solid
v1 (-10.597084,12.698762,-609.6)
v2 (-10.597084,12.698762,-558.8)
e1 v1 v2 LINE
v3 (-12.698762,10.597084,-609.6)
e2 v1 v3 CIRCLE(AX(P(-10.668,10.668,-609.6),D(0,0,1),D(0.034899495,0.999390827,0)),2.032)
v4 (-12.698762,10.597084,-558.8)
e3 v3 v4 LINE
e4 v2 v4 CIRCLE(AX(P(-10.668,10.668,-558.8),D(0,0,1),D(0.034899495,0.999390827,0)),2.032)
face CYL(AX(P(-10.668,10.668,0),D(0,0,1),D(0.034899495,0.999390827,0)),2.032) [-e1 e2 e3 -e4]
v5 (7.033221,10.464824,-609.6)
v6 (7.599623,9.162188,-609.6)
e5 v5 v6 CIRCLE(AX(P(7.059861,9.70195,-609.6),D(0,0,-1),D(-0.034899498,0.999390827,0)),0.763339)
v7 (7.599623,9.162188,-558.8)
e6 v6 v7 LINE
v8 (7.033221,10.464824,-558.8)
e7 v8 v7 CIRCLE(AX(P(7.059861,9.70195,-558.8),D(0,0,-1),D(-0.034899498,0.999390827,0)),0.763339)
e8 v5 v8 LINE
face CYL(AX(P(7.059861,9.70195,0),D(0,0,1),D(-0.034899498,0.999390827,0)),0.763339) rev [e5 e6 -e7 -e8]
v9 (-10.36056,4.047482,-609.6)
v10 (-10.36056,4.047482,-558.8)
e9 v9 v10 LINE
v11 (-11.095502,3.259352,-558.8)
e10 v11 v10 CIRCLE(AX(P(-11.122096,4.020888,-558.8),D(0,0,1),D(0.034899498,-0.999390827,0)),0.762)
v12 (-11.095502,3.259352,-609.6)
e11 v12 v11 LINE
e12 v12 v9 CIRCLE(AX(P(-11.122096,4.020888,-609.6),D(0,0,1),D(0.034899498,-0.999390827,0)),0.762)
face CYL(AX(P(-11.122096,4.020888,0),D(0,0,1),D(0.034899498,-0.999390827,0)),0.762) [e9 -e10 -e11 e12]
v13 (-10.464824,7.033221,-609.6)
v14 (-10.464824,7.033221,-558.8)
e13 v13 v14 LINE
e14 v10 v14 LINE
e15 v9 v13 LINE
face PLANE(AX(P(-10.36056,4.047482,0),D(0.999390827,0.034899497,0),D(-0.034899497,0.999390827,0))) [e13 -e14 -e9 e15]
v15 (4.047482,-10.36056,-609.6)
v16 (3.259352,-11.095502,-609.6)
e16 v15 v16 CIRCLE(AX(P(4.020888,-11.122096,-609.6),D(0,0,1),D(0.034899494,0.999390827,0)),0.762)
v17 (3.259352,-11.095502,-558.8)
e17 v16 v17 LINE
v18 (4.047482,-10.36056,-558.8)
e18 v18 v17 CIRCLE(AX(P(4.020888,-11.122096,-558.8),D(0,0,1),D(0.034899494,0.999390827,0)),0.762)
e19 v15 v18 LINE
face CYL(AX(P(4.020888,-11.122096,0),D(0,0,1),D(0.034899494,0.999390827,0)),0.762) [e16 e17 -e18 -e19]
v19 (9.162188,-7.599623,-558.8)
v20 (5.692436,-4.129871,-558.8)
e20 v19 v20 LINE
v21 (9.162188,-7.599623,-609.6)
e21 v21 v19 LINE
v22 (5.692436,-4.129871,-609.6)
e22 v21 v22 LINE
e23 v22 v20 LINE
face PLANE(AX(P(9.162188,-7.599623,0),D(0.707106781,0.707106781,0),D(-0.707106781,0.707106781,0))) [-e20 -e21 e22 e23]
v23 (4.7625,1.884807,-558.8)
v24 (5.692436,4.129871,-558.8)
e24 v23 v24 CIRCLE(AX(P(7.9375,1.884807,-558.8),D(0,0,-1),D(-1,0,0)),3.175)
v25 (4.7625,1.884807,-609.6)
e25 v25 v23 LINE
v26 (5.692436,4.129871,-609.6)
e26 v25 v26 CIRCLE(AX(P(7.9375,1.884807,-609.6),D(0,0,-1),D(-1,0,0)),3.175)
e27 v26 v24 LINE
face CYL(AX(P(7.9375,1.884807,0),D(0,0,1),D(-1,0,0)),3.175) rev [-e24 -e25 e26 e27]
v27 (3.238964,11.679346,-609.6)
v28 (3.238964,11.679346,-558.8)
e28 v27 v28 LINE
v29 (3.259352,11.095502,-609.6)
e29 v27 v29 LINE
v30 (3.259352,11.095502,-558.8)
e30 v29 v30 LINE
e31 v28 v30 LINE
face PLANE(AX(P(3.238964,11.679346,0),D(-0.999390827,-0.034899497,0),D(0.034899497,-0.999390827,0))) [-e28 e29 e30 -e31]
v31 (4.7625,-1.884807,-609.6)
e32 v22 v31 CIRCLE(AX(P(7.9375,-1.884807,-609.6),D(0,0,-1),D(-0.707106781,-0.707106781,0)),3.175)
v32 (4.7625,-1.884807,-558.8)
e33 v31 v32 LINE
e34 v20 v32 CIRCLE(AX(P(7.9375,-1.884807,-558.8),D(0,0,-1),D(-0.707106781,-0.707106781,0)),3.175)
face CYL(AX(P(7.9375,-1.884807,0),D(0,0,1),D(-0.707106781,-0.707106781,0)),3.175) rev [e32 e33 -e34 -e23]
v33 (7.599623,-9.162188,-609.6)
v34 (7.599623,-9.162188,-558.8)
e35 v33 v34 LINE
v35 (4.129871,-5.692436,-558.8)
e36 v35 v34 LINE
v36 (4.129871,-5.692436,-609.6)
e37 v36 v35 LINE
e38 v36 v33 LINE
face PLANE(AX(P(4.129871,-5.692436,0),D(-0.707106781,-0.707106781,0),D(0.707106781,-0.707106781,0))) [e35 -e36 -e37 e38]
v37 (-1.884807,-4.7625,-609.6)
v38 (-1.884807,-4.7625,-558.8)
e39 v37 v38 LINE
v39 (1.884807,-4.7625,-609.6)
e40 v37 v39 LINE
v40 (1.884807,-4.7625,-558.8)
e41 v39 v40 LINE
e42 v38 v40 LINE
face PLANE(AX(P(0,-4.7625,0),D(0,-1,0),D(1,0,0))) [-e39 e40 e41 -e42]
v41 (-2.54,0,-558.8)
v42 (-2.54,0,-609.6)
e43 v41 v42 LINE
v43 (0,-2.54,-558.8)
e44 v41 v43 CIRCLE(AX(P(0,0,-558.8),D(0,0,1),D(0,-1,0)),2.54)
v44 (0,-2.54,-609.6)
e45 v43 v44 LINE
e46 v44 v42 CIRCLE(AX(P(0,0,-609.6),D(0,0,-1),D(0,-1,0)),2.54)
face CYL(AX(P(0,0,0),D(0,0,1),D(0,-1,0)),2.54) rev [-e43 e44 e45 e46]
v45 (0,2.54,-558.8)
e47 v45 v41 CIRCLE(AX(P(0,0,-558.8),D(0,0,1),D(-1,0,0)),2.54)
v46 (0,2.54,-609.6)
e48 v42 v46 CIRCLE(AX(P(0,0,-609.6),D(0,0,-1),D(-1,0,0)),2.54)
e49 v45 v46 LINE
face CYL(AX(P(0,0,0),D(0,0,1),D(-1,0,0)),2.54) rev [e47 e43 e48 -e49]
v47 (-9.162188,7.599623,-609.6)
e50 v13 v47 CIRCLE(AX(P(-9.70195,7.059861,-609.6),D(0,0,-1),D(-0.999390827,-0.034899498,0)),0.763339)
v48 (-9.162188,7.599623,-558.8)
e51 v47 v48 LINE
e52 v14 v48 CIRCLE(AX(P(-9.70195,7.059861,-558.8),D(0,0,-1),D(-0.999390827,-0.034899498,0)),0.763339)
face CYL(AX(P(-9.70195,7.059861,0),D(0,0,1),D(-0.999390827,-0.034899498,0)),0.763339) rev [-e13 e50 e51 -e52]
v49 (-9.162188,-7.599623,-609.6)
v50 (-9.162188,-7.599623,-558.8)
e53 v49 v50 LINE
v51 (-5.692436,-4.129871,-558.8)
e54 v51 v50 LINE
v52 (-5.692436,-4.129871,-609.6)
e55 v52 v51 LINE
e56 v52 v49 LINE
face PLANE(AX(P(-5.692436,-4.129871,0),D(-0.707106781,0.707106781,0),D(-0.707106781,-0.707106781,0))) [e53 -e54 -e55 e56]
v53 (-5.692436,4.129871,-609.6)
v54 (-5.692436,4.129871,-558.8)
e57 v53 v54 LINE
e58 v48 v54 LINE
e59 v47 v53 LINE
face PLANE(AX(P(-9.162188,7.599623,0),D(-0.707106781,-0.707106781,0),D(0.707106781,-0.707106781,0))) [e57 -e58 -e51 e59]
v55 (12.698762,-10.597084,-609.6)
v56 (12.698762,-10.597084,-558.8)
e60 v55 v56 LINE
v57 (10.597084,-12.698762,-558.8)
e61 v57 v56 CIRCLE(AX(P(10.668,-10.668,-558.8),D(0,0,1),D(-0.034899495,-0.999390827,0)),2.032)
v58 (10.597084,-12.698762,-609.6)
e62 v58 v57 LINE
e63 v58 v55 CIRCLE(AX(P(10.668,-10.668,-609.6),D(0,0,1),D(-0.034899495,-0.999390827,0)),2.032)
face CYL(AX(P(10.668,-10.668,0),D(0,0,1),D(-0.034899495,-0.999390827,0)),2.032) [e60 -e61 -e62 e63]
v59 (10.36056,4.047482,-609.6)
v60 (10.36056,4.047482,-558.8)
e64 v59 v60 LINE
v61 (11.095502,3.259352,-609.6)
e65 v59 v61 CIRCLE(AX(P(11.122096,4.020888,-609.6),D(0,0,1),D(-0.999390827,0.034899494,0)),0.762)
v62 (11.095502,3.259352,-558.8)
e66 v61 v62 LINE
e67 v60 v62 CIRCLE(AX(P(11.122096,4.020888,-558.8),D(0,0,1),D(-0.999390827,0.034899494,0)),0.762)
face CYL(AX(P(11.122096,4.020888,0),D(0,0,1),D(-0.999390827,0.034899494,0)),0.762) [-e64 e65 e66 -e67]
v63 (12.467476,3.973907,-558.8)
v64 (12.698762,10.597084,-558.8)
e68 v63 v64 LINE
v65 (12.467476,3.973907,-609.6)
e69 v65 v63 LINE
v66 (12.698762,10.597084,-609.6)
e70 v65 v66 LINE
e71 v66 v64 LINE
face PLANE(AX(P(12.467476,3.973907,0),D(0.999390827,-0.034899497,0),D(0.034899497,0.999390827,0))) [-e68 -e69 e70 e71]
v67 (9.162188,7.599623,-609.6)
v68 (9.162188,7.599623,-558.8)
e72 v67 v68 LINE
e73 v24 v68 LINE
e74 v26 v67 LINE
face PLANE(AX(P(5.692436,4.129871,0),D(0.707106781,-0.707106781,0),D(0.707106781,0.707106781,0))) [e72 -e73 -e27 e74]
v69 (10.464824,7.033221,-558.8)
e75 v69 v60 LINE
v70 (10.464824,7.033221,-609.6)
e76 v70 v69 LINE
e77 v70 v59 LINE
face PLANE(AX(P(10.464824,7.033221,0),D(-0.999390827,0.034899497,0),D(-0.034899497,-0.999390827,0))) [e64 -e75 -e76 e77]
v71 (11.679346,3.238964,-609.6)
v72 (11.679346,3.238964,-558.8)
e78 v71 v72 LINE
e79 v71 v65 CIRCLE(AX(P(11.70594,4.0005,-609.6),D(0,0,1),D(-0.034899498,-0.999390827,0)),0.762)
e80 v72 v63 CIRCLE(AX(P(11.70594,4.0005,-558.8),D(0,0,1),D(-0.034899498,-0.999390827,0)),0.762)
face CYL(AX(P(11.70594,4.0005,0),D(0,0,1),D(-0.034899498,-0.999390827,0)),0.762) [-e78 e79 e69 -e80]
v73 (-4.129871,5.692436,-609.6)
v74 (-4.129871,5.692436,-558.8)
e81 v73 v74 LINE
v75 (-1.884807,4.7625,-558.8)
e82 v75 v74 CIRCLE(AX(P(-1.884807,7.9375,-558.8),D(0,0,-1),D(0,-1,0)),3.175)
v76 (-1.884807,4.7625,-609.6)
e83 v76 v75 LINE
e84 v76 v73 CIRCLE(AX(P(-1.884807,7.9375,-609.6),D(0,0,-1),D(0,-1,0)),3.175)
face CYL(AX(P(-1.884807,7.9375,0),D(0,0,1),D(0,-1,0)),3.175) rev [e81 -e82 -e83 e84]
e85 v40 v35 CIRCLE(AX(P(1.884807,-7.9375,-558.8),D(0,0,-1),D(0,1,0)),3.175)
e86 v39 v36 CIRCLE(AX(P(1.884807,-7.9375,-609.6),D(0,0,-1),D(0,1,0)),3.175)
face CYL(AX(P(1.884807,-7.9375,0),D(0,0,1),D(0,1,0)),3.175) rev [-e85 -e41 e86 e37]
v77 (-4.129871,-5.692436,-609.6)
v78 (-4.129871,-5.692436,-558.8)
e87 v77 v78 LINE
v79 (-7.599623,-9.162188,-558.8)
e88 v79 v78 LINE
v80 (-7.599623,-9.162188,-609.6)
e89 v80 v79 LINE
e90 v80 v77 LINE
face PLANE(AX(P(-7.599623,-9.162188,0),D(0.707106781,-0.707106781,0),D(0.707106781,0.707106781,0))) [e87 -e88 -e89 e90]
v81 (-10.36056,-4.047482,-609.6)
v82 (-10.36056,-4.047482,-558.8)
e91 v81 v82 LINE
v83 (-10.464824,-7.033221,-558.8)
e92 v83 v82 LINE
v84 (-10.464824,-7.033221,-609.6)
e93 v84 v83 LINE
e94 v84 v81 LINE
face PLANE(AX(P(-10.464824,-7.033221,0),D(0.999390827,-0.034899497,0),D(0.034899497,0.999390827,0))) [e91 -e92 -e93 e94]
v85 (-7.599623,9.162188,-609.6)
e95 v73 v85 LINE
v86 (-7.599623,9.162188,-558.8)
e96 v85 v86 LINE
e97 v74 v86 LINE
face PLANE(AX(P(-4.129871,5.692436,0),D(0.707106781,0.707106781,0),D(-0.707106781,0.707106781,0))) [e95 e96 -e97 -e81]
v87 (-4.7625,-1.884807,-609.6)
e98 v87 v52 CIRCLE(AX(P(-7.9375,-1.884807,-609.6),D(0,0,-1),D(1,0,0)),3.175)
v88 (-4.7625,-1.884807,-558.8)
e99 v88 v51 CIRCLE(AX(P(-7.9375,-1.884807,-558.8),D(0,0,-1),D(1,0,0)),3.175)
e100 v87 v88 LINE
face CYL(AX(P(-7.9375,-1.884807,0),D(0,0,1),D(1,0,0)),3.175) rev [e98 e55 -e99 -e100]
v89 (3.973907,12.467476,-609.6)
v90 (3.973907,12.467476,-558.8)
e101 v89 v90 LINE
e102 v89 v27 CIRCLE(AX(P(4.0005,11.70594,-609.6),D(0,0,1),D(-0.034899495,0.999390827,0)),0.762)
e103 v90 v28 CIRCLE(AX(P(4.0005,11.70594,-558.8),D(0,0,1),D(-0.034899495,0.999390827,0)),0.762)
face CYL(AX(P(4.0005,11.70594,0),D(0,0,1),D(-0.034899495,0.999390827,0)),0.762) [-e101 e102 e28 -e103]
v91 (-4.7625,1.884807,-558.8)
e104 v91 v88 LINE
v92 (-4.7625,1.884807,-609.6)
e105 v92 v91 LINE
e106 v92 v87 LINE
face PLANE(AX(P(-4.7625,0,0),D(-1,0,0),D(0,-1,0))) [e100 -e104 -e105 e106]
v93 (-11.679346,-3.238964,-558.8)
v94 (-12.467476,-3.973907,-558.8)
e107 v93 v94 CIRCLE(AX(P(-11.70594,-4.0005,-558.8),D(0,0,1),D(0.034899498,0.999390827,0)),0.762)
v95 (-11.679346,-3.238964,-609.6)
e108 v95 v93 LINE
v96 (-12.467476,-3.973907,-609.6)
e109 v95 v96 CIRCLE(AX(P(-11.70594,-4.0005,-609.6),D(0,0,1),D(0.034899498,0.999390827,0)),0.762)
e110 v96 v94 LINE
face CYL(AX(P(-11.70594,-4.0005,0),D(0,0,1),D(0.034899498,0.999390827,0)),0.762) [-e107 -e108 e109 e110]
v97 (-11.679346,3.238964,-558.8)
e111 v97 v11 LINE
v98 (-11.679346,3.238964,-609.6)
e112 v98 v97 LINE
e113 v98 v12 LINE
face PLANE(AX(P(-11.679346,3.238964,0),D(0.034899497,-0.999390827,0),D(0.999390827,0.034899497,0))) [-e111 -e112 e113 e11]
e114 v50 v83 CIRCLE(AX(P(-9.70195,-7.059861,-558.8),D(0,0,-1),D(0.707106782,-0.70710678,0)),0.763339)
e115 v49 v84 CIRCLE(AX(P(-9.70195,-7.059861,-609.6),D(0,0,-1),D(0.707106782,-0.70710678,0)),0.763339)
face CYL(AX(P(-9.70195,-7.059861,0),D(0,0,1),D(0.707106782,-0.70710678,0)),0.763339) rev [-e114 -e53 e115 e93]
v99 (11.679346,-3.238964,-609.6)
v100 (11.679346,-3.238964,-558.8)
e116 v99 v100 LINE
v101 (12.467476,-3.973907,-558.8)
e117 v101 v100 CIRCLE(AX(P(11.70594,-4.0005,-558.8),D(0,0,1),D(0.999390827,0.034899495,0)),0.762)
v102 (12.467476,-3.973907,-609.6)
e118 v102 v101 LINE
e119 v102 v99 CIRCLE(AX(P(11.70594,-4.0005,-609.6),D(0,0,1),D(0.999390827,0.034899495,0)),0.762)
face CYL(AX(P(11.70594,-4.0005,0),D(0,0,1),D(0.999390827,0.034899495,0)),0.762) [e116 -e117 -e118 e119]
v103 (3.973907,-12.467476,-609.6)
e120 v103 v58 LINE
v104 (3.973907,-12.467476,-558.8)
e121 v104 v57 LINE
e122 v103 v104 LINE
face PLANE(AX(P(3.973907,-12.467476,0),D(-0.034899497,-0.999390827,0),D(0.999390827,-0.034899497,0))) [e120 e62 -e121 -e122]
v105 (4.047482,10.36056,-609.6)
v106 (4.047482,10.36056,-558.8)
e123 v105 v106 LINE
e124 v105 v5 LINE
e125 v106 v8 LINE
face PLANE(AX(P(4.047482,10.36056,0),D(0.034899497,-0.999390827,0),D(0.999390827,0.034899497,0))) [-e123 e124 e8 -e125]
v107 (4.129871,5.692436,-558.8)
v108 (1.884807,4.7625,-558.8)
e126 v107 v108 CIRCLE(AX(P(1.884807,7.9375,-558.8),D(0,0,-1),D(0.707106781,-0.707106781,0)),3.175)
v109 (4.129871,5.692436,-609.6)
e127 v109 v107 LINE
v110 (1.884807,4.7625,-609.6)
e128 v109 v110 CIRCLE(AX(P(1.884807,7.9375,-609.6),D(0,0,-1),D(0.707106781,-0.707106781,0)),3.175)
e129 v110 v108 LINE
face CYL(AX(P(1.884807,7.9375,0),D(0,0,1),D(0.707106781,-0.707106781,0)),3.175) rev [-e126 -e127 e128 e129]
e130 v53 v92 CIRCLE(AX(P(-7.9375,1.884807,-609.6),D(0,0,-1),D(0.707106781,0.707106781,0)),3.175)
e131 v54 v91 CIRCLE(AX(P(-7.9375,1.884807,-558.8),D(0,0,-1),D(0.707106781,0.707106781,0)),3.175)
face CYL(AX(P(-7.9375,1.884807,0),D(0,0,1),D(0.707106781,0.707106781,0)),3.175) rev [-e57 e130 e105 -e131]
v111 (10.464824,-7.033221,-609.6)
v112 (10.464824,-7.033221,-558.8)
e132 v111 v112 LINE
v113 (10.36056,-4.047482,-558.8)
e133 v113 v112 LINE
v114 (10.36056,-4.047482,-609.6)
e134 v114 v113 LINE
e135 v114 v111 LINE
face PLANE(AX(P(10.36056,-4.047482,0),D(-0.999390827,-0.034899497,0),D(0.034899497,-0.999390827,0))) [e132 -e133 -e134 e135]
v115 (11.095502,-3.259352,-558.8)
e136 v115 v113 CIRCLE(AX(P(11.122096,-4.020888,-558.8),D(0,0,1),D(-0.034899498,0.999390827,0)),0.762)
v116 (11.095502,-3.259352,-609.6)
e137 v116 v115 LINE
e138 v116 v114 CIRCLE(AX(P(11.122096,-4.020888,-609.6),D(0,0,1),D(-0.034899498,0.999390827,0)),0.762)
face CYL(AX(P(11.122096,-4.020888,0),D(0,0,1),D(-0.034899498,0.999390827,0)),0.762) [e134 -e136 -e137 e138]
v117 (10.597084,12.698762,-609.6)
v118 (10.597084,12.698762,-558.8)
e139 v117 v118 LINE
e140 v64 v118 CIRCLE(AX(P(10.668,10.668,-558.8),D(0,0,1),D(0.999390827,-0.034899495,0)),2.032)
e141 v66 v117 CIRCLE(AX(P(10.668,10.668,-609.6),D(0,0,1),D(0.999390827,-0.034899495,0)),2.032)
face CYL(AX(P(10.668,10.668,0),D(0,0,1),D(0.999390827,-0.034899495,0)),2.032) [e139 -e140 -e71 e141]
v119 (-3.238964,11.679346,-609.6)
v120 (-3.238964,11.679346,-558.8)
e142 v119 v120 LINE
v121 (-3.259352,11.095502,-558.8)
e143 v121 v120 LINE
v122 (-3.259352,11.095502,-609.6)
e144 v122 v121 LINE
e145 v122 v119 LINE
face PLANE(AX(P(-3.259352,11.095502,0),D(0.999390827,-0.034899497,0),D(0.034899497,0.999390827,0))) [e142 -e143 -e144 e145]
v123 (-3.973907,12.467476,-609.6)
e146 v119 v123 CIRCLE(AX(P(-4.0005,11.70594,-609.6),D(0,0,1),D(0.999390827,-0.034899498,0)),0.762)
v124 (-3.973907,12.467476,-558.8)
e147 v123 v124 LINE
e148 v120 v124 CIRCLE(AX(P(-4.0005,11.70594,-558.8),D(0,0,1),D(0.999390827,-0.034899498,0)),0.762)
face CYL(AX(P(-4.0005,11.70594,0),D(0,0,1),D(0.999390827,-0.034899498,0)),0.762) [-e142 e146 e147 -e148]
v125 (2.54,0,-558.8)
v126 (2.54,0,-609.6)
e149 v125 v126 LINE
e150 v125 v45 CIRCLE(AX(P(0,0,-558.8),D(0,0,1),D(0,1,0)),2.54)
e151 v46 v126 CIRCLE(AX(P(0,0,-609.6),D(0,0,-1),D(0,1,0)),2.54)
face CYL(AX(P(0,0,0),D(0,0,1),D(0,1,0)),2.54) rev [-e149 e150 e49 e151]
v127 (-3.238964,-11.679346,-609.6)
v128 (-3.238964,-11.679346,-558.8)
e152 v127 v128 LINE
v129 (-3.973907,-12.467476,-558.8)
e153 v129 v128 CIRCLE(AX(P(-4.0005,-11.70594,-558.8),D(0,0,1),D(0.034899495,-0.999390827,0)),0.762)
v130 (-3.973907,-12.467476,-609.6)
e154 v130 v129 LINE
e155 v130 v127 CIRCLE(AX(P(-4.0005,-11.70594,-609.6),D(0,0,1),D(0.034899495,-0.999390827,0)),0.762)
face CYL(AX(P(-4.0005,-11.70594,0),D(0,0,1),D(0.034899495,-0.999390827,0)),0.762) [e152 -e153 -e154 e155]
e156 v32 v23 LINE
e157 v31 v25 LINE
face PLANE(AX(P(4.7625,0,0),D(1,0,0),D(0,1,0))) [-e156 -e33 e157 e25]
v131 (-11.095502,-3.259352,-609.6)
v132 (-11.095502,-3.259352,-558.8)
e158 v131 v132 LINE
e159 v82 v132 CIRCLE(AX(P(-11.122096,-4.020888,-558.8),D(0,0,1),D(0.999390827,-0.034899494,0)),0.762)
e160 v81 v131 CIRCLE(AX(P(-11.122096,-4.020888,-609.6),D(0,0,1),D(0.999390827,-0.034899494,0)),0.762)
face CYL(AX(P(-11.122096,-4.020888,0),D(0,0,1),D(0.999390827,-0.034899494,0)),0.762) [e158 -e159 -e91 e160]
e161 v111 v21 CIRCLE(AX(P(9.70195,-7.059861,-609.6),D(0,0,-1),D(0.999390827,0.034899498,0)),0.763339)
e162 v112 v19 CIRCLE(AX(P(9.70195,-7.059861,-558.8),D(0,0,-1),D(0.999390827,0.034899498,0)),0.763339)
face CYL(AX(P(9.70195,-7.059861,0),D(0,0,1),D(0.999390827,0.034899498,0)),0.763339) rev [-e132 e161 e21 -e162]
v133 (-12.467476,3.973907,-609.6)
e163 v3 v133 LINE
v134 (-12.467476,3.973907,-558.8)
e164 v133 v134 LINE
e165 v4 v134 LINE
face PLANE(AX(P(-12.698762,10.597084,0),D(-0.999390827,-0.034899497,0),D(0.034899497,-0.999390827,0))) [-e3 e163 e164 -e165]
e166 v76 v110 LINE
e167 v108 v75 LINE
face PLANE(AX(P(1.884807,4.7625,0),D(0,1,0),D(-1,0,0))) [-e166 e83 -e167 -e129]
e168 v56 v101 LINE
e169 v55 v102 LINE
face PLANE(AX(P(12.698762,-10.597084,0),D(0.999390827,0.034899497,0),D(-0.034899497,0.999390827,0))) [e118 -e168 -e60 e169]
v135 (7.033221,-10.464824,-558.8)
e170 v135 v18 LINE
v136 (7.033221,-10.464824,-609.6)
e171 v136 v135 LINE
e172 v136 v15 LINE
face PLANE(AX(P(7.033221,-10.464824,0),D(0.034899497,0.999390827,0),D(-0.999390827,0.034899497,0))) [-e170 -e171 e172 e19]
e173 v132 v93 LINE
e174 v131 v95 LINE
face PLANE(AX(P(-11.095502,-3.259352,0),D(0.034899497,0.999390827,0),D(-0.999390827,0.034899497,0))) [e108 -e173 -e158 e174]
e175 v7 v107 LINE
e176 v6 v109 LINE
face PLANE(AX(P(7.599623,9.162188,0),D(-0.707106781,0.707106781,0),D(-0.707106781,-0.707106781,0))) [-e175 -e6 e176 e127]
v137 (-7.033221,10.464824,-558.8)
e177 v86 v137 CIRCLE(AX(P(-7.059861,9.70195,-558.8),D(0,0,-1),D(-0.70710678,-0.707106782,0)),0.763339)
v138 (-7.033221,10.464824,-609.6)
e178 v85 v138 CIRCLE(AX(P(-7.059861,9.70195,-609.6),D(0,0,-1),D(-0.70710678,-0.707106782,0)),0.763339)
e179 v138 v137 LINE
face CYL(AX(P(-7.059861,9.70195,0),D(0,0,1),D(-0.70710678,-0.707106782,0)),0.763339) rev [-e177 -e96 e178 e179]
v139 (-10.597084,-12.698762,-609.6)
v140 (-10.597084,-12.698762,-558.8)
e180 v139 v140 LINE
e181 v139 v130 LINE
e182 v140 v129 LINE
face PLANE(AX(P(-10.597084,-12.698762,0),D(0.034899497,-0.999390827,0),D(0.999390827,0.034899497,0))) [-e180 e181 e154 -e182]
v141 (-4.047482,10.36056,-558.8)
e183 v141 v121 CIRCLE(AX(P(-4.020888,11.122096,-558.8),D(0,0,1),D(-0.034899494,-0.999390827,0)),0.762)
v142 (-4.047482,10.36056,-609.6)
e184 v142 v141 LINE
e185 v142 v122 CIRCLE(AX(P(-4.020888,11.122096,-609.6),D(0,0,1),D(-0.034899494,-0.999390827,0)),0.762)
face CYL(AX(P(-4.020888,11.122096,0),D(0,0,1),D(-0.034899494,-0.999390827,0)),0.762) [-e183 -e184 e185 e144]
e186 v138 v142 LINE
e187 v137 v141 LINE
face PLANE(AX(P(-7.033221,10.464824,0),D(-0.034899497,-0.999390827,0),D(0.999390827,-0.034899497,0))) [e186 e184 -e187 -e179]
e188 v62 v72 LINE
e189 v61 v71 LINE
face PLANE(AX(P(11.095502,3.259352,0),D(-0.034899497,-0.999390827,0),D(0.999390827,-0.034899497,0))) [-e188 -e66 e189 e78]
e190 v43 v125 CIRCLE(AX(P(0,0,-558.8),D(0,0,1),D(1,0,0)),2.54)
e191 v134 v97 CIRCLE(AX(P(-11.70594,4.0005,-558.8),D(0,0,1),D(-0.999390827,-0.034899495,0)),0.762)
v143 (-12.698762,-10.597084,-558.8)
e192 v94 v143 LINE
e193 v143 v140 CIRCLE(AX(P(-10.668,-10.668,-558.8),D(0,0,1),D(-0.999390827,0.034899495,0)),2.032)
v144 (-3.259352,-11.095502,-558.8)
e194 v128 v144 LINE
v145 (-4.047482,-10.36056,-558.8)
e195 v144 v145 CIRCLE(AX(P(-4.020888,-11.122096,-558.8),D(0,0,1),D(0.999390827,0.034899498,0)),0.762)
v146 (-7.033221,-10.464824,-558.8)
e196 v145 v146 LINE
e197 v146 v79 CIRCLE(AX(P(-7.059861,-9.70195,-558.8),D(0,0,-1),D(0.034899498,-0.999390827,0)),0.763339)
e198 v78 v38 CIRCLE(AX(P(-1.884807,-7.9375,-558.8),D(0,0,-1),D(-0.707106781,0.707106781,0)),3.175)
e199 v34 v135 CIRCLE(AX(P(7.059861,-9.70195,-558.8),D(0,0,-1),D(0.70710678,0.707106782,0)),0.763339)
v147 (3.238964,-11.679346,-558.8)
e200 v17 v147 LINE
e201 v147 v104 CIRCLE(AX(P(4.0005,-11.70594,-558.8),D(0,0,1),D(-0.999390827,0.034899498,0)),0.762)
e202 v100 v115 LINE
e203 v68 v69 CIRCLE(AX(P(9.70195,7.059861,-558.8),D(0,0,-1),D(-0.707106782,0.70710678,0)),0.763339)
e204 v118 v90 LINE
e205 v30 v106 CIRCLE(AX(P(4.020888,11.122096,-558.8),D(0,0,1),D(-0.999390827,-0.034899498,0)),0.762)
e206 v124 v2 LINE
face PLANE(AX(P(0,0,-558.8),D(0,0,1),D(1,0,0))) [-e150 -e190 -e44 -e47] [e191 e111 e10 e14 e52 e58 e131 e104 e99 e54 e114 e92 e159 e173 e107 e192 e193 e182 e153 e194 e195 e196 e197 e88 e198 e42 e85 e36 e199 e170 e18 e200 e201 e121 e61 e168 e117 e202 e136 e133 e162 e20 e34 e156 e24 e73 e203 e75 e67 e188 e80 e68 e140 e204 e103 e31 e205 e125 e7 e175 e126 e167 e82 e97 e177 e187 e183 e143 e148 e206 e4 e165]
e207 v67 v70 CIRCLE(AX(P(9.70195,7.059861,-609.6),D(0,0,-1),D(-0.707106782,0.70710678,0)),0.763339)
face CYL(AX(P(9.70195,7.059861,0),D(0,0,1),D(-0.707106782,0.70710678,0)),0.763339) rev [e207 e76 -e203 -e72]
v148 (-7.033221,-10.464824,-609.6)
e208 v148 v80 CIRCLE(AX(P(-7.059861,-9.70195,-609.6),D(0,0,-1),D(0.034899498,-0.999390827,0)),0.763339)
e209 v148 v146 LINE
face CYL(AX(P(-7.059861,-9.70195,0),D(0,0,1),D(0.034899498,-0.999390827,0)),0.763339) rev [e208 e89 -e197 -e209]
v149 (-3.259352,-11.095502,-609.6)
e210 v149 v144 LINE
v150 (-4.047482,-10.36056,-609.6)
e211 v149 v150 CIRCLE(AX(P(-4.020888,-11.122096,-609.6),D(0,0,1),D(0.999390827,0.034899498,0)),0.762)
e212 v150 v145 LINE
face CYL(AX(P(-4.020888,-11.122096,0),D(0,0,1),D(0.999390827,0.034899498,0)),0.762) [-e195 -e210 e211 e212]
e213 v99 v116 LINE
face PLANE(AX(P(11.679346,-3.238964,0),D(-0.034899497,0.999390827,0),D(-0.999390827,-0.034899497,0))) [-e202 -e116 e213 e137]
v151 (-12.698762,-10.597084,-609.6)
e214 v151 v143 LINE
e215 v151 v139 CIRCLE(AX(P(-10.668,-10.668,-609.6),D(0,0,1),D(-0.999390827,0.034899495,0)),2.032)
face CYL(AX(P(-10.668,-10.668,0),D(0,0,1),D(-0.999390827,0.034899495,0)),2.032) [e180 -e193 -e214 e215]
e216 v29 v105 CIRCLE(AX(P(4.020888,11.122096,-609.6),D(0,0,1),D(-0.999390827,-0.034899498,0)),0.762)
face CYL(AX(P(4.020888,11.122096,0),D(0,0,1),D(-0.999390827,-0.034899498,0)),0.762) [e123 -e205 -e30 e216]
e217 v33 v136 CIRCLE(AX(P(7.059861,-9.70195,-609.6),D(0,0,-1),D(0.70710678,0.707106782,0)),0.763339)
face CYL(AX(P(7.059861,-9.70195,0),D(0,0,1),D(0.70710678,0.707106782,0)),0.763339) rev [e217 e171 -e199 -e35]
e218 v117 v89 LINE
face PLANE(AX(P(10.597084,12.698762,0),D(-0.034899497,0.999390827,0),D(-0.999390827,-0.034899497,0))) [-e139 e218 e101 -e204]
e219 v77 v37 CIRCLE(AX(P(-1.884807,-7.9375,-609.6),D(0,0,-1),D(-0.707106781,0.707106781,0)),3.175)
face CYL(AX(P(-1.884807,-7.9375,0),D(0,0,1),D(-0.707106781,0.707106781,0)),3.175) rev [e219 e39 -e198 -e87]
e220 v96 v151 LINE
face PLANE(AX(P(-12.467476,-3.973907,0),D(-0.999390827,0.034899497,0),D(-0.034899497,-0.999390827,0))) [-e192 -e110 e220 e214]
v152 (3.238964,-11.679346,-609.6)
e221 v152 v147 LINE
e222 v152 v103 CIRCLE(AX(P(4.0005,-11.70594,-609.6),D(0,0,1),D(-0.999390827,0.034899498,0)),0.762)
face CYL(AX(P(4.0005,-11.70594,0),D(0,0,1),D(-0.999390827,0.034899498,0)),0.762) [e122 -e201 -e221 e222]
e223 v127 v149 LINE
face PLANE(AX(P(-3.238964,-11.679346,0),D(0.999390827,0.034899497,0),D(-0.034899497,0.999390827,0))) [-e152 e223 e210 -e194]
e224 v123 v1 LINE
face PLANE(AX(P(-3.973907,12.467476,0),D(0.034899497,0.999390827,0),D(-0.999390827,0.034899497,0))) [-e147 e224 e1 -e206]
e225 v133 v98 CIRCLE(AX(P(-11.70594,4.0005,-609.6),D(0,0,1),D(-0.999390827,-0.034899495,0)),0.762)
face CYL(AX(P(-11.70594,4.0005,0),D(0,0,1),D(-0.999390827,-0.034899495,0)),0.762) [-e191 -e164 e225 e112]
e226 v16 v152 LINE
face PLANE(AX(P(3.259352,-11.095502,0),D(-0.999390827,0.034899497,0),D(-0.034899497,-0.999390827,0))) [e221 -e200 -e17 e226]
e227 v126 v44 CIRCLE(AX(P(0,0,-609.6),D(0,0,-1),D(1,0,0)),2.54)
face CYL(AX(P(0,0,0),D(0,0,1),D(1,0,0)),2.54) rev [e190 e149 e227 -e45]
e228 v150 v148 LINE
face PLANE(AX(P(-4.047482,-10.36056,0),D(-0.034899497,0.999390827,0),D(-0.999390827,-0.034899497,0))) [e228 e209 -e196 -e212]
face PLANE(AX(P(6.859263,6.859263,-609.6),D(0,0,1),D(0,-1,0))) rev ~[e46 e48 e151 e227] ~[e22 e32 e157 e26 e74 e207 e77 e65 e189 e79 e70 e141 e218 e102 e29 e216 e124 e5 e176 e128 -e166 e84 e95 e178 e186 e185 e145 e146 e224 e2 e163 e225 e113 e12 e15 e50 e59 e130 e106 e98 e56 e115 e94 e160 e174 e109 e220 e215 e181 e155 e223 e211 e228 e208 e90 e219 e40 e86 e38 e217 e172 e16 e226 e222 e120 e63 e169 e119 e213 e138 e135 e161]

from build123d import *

# Parameters (mm, degrees)
BOSS_EXTRUDE1_DEPTH = 609.6
CIRPATTERN1_COUNT   = 4
CUT_EXTRUDE1_DEPTH  = 1168.4


with BuildPart() as part:
    # Sketch3 → Boss-Extrude1 (new, symmetric)
    with BuildSketch(Plane.XY):
        with BuildLine():
            Line((0, 4.7625), (-1.884807374, 4.7625))
            ThreePointArc((-1.884807374, 4.7625), (-3.099827272, 5.004182484), (-4.129871405, 5.69243597))
            Line((-4.129871405, 5.69243597), (-7.599623114, 9.162187679))
            ThreePointArc((-7.599623114, 9.162187679), (-7.759888701, 10.006330839), (-7.033220609, 10.464824259))
            Line((-7.033220609, 10.464824259), (-4.047481702, 10.360559959))
            ThreePointArc((-4.047481702, 10.360559959), (-3.501205536, 10.564804249), (-3.259352476, 11.095502353))
            Line((-3.259352476, 11.095502353), (-3.23896419, 11.679346474))
            ThreePointArc((-3.23896419, 11.679346474), (-3.443208479, 12.225622641), (-3.973906584, 12.467475701))
            Line((-3.973906584, 12.467475701), (-10.597084223, 12.698762161))
            ThreePointArc((-10.597084223, 12.698762161), (-12.104840979, 12.104840979), (-12.698762161, 10.597084223))
            Line((-12.698762161, 10.597084223), (-12.467475701, 3.973906584))
            ThreePointArc((-12.467475701, 3.973906584), (-12.225622641, 3.443208479), (-11.679346474, 3.23896419))
            Line((-11.679346474, 3.23896419), (-11.095502353, 3.259352476))
            ThreePointArc((-11.095502353, 3.259352476), (-10.564804249, 3.501205536), (-10.360559959, 4.047481702))
            Line((-10.360559959, 4.047481702), (-10.464824259, 7.033220609))
            ThreePointArc((-10.464824259, 7.033220609), (-10.006330839, 7.759888701), (-9.162187679, 7.599623114))
            Line((-9.162187679, 7.599623114), (-5.69243597, 4.129871405))
            ThreePointArc((-5.69243597, 4.129871405), (-5.004182484, 3.099827272), (-4.7625, 1.884807374))
            Line((-4.7625, 1.884807374), (-4.7625, 0))
            Line((-4.7625, 0), (-2.54, 0))
            ThreePointArc((-2.54, 0), (-1.796051224, 1.796051224), (0, 2.54))
            Line((0, 2.54), (0, 4.7625))
        make_face()
    boss_extrude1 = extrude(amount=BOSS_EXTRUDE1_DEPTH, both=True)

    # CirPattern1: Boss-Extrude1 ×4 about axis
    cirpattern1_axis = Axis((0, 0, 0), (0, 0, 1))
    for i in range(1, CIRPATTERN1_COUNT):
        add(boss_extrude1.rotate(cirpattern1_axis, i * 360 / CIRPATTERN1_COUNT))

    # Sketch4 → Cut-Extrude1 (cut)
    with BuildSketch(Plane.XY.offset(609.6)):
        with BuildLine():
            Line((1.884807374, 4.7625), (-1.884807374, 4.7625))
            ThreePointArc((-1.884807374, 4.7625), (-3.099827272, 5.004182484), (-4.129871405, 5.69243597))
            Line((-4.129871405, 5.69243597), (-7.599623114, 9.162187679))
            ThreePointArc((-7.599623114, 9.162187679), (-7.759888701, 10.006330839), (-7.033220609, 10.464824259))
            Line((-7.033220609, 10.464824259), (-4.047481702, 10.360559959))
            ThreePointArc((-4.047481702, 10.360559959), (-3.501205536, 10.564804249), (-3.259352476, 11.095502353))
            Line((-3.259352476, 11.095502353), (-3.23896419, 11.679346474))
            ThreePointArc((-3.23896419, 11.679346474), (-3.443208479, 12.225622641), (-3.973906584, 12.467475701))
            Line((-3.973906584, 12.467475701), (-10.597084223, 12.698762161))
            ThreePointArc((-10.597084223, 12.698762161), (-12.104840979, 12.104840979), (-12.698762161, 10.597084223))
            Line((-12.698762161, 10.597084223), (-12.467475701, 3.973906584))
            ThreePointArc((-12.467475701, 3.973906584), (-12.225622641, 3.443208479), (-11.679346474, 3.23896419))
            Line((-11.679346474, 3.23896419), (-11.095502353, 3.259352476))
            ThreePointArc((-11.095502353, 3.259352476), (-10.564804249, 3.501205536), (-10.360559959, 4.047481702))
            Line((-10.360559959, 4.047481702), (-10.464824259, 7.033220609))
            ThreePointArc((-10.464824259, 7.033220609), (-10.006330839, 7.759888701), (-9.162187679, 7.599623114))
            Line((-9.162187679, 7.599623114), (-5.69243597, 4.129871405))
            ThreePointArc((-5.69243597, 4.129871405), (-5.004182484, 3.099827272), (-4.7625, 1.884807374))
            Line((-4.7625, 1.884807374), (-4.7625, -1.884807374))
            ThreePointArc((-4.7625, -1.884807374), (-5.004182484, -3.099827272), (-5.69243597, -4.129871405))
            Line((-5.69243597, -4.129871405), (-9.162187679, -7.599623114))
            ThreePointArc((-9.162187679, -7.599623114), (-10.006330839, -7.759888701), (-10.464824259, -7.033220609))
            Line((-10.464824259, -7.033220609), (-10.360559959, -4.047481702))
            ThreePointArc((-10.360559959, -4.047481702), (-10.564804249, -3.501205536), (-11.095502353, -3.259352476))
            Line((-11.095502353, -3.259352476), (-11.679346474, -3.23896419))
            ThreePointArc((-11.679346474, -3.23896419), (-12.225622641, -3.443208479), (-12.467475701, -3.973906584))
            Line((-12.467475701, -3.973906584), (-12.698762161, -10.597084223))
            ThreePointArc((-12.698762161, -10.597084223), (-12.104840979, -12.104840979), (-10.597084223, -12.698762161))
            Line((-10.597084223, -12.698762161), (-3.973906584, -12.467475701))
            ThreePointArc((-3.973906584, -12.467475701), (-3.443208479, -12.225622641), (-3.23896419, -11.679346474))
            Line((-3.23896419, -11.679346474), (-3.259352476, -11.095502353))
            ThreePointArc((-3.259352476, -11.095502353), (-3.501205536, -10.564804249), (-4.047481702, -10.360559959))
            Line((-4.047481702, -10.360559959), (-7.033220609, -10.464824259))
            ThreePointArc((-7.033220609, -10.464824259), (-7.759888701, -10.006330839), (-7.599623114, -9.162187679))
            Line((-7.599623114, -9.162187679), (-4.129871405, -5.69243597))
            ThreePointArc((-4.129871405, -5.69243597), (-3.099827272, -5.004182484), (-1.884807374, -4.7625))
            Line((-1.884807374, -4.7625), (1.884807374, -4.7625))
            ThreePointArc((1.884807374, -4.7625), (3.099827272, -5.004182484), (4.129871405, -5.69243597))
            Line((4.129871405, -5.69243597), (7.599623114, -9.162187679))
            ThreePointArc((7.599623114, -9.162187679), (7.759888701, -10.006330839), (7.033220609, -10.464824259))
            Line((7.033220609, -10.464824259), (4.047481702, -10.360559959))
            ThreePointArc((4.047481702, -10.360559959), (3.501205536, -10.564804249), (3.259352476, -11.095502353))
            Line((3.259352476, -11.095502353), (3.23896419, -11.679346474))
            ThreePointArc((3.23896419, -11.679346474), (3.443208479, -12.225622641), (3.973906584, -12.467475701))
            Line((3.973906584, -12.467475701), (10.597084223, -12.698762161))
            ThreePointArc((10.597084223, -12.698762161), (12.104840979, -12.104840979), (12.698762161, -10.597084223))
            Line((12.698762161, -10.597084223), (12.467475701, -3.973906584))
            ThreePointArc((12.467475701, -3.973906584), (12.225622641, -3.443208479), (11.679346474, -3.23896419))
            Line((11.679346474, -3.23896419), (11.095502353, -3.259352476))
            ThreePointArc((11.095502353, -3.259352476), (10.564804249, -3.501205536), (10.360559959, -4.047481702))
            Line((10.360559959, -4.047481702), (10.464824259, -7.033220609))
            ThreePointArc((10.464824259, -7.033220609), (10.006330839, -7.759888701), (9.162187679, -7.599623114))
            Line((9.162187679, -7.599623114), (5.69243597, -4.129871405))
            ThreePointArc((5.69243597, -4.129871405), (5.004182484, -3.099827272), (4.7625, -1.884807374))
            Line((4.7625, -1.884807374), (4.7625, 1.884807374))
            ThreePointArc((4.7625, 1.884807374), (5.004182484, 3.099827272), (5.69243597, 4.129871405))
            Line((5.69243597, 4.129871405), (9.162187679, 7.599623114))
            ThreePointArc((9.162187679, 7.599623114), (10.006330839, 7.759888701), (10.464824259, 7.033220609))
            Line((10.464824259, 7.033220609), (10.360559959, 4.047481702))
            ThreePointArc((10.360559959, 4.047481702), (10.564804249, 3.501205536), (11.095502353, 3.259352476))
            Line((11.095502353, 3.259352476), (11.679346474, 3.23896419))
            ThreePointArc((11.679346474, 3.23896419), (12.225622641, 3.443208479), (12.467475701, 3.973906584))
            Line((12.467475701, 3.973906584), (12.698762161, 10.597084223))
            ThreePointArc((12.698762161, 10.597084223), (12.104840979, 12.104840979), (10.597084223, 12.698762161))
            Line((10.597084223, 12.698762161), (3.973906584, 12.467475701))
            ThreePointArc((3.973906584, 12.467475701), (3.443208479, 12.225622641), (3.23896419, 11.679346474))
            Line((3.23896419, 11.679346474), (3.259352476, 11.095502353))
            ThreePointArc((3.259352476, 11.095502353), (3.501205536, 10.564804249), (4.047481702, 10.360559959))
            Line((4.047481702, 10.360559959), (7.033220609, 10.464824259))
            ThreePointArc((7.033220609, 10.464824259), (7.759888701, 10.006330839), (7.599623114, 9.162187679))
            Line((7.599623114, 9.162187679), (4.129871405, 5.69243597))
            ThreePointArc((4.129871405, 5.69243597), (3.099827272, 5.004182484), (1.884807374, 4.7625))
        make_face()
    extrude(amount=-CUT_EXTRUDE1_DEPTH, mode=Mode.SUBTRACT)


solid = part.part
